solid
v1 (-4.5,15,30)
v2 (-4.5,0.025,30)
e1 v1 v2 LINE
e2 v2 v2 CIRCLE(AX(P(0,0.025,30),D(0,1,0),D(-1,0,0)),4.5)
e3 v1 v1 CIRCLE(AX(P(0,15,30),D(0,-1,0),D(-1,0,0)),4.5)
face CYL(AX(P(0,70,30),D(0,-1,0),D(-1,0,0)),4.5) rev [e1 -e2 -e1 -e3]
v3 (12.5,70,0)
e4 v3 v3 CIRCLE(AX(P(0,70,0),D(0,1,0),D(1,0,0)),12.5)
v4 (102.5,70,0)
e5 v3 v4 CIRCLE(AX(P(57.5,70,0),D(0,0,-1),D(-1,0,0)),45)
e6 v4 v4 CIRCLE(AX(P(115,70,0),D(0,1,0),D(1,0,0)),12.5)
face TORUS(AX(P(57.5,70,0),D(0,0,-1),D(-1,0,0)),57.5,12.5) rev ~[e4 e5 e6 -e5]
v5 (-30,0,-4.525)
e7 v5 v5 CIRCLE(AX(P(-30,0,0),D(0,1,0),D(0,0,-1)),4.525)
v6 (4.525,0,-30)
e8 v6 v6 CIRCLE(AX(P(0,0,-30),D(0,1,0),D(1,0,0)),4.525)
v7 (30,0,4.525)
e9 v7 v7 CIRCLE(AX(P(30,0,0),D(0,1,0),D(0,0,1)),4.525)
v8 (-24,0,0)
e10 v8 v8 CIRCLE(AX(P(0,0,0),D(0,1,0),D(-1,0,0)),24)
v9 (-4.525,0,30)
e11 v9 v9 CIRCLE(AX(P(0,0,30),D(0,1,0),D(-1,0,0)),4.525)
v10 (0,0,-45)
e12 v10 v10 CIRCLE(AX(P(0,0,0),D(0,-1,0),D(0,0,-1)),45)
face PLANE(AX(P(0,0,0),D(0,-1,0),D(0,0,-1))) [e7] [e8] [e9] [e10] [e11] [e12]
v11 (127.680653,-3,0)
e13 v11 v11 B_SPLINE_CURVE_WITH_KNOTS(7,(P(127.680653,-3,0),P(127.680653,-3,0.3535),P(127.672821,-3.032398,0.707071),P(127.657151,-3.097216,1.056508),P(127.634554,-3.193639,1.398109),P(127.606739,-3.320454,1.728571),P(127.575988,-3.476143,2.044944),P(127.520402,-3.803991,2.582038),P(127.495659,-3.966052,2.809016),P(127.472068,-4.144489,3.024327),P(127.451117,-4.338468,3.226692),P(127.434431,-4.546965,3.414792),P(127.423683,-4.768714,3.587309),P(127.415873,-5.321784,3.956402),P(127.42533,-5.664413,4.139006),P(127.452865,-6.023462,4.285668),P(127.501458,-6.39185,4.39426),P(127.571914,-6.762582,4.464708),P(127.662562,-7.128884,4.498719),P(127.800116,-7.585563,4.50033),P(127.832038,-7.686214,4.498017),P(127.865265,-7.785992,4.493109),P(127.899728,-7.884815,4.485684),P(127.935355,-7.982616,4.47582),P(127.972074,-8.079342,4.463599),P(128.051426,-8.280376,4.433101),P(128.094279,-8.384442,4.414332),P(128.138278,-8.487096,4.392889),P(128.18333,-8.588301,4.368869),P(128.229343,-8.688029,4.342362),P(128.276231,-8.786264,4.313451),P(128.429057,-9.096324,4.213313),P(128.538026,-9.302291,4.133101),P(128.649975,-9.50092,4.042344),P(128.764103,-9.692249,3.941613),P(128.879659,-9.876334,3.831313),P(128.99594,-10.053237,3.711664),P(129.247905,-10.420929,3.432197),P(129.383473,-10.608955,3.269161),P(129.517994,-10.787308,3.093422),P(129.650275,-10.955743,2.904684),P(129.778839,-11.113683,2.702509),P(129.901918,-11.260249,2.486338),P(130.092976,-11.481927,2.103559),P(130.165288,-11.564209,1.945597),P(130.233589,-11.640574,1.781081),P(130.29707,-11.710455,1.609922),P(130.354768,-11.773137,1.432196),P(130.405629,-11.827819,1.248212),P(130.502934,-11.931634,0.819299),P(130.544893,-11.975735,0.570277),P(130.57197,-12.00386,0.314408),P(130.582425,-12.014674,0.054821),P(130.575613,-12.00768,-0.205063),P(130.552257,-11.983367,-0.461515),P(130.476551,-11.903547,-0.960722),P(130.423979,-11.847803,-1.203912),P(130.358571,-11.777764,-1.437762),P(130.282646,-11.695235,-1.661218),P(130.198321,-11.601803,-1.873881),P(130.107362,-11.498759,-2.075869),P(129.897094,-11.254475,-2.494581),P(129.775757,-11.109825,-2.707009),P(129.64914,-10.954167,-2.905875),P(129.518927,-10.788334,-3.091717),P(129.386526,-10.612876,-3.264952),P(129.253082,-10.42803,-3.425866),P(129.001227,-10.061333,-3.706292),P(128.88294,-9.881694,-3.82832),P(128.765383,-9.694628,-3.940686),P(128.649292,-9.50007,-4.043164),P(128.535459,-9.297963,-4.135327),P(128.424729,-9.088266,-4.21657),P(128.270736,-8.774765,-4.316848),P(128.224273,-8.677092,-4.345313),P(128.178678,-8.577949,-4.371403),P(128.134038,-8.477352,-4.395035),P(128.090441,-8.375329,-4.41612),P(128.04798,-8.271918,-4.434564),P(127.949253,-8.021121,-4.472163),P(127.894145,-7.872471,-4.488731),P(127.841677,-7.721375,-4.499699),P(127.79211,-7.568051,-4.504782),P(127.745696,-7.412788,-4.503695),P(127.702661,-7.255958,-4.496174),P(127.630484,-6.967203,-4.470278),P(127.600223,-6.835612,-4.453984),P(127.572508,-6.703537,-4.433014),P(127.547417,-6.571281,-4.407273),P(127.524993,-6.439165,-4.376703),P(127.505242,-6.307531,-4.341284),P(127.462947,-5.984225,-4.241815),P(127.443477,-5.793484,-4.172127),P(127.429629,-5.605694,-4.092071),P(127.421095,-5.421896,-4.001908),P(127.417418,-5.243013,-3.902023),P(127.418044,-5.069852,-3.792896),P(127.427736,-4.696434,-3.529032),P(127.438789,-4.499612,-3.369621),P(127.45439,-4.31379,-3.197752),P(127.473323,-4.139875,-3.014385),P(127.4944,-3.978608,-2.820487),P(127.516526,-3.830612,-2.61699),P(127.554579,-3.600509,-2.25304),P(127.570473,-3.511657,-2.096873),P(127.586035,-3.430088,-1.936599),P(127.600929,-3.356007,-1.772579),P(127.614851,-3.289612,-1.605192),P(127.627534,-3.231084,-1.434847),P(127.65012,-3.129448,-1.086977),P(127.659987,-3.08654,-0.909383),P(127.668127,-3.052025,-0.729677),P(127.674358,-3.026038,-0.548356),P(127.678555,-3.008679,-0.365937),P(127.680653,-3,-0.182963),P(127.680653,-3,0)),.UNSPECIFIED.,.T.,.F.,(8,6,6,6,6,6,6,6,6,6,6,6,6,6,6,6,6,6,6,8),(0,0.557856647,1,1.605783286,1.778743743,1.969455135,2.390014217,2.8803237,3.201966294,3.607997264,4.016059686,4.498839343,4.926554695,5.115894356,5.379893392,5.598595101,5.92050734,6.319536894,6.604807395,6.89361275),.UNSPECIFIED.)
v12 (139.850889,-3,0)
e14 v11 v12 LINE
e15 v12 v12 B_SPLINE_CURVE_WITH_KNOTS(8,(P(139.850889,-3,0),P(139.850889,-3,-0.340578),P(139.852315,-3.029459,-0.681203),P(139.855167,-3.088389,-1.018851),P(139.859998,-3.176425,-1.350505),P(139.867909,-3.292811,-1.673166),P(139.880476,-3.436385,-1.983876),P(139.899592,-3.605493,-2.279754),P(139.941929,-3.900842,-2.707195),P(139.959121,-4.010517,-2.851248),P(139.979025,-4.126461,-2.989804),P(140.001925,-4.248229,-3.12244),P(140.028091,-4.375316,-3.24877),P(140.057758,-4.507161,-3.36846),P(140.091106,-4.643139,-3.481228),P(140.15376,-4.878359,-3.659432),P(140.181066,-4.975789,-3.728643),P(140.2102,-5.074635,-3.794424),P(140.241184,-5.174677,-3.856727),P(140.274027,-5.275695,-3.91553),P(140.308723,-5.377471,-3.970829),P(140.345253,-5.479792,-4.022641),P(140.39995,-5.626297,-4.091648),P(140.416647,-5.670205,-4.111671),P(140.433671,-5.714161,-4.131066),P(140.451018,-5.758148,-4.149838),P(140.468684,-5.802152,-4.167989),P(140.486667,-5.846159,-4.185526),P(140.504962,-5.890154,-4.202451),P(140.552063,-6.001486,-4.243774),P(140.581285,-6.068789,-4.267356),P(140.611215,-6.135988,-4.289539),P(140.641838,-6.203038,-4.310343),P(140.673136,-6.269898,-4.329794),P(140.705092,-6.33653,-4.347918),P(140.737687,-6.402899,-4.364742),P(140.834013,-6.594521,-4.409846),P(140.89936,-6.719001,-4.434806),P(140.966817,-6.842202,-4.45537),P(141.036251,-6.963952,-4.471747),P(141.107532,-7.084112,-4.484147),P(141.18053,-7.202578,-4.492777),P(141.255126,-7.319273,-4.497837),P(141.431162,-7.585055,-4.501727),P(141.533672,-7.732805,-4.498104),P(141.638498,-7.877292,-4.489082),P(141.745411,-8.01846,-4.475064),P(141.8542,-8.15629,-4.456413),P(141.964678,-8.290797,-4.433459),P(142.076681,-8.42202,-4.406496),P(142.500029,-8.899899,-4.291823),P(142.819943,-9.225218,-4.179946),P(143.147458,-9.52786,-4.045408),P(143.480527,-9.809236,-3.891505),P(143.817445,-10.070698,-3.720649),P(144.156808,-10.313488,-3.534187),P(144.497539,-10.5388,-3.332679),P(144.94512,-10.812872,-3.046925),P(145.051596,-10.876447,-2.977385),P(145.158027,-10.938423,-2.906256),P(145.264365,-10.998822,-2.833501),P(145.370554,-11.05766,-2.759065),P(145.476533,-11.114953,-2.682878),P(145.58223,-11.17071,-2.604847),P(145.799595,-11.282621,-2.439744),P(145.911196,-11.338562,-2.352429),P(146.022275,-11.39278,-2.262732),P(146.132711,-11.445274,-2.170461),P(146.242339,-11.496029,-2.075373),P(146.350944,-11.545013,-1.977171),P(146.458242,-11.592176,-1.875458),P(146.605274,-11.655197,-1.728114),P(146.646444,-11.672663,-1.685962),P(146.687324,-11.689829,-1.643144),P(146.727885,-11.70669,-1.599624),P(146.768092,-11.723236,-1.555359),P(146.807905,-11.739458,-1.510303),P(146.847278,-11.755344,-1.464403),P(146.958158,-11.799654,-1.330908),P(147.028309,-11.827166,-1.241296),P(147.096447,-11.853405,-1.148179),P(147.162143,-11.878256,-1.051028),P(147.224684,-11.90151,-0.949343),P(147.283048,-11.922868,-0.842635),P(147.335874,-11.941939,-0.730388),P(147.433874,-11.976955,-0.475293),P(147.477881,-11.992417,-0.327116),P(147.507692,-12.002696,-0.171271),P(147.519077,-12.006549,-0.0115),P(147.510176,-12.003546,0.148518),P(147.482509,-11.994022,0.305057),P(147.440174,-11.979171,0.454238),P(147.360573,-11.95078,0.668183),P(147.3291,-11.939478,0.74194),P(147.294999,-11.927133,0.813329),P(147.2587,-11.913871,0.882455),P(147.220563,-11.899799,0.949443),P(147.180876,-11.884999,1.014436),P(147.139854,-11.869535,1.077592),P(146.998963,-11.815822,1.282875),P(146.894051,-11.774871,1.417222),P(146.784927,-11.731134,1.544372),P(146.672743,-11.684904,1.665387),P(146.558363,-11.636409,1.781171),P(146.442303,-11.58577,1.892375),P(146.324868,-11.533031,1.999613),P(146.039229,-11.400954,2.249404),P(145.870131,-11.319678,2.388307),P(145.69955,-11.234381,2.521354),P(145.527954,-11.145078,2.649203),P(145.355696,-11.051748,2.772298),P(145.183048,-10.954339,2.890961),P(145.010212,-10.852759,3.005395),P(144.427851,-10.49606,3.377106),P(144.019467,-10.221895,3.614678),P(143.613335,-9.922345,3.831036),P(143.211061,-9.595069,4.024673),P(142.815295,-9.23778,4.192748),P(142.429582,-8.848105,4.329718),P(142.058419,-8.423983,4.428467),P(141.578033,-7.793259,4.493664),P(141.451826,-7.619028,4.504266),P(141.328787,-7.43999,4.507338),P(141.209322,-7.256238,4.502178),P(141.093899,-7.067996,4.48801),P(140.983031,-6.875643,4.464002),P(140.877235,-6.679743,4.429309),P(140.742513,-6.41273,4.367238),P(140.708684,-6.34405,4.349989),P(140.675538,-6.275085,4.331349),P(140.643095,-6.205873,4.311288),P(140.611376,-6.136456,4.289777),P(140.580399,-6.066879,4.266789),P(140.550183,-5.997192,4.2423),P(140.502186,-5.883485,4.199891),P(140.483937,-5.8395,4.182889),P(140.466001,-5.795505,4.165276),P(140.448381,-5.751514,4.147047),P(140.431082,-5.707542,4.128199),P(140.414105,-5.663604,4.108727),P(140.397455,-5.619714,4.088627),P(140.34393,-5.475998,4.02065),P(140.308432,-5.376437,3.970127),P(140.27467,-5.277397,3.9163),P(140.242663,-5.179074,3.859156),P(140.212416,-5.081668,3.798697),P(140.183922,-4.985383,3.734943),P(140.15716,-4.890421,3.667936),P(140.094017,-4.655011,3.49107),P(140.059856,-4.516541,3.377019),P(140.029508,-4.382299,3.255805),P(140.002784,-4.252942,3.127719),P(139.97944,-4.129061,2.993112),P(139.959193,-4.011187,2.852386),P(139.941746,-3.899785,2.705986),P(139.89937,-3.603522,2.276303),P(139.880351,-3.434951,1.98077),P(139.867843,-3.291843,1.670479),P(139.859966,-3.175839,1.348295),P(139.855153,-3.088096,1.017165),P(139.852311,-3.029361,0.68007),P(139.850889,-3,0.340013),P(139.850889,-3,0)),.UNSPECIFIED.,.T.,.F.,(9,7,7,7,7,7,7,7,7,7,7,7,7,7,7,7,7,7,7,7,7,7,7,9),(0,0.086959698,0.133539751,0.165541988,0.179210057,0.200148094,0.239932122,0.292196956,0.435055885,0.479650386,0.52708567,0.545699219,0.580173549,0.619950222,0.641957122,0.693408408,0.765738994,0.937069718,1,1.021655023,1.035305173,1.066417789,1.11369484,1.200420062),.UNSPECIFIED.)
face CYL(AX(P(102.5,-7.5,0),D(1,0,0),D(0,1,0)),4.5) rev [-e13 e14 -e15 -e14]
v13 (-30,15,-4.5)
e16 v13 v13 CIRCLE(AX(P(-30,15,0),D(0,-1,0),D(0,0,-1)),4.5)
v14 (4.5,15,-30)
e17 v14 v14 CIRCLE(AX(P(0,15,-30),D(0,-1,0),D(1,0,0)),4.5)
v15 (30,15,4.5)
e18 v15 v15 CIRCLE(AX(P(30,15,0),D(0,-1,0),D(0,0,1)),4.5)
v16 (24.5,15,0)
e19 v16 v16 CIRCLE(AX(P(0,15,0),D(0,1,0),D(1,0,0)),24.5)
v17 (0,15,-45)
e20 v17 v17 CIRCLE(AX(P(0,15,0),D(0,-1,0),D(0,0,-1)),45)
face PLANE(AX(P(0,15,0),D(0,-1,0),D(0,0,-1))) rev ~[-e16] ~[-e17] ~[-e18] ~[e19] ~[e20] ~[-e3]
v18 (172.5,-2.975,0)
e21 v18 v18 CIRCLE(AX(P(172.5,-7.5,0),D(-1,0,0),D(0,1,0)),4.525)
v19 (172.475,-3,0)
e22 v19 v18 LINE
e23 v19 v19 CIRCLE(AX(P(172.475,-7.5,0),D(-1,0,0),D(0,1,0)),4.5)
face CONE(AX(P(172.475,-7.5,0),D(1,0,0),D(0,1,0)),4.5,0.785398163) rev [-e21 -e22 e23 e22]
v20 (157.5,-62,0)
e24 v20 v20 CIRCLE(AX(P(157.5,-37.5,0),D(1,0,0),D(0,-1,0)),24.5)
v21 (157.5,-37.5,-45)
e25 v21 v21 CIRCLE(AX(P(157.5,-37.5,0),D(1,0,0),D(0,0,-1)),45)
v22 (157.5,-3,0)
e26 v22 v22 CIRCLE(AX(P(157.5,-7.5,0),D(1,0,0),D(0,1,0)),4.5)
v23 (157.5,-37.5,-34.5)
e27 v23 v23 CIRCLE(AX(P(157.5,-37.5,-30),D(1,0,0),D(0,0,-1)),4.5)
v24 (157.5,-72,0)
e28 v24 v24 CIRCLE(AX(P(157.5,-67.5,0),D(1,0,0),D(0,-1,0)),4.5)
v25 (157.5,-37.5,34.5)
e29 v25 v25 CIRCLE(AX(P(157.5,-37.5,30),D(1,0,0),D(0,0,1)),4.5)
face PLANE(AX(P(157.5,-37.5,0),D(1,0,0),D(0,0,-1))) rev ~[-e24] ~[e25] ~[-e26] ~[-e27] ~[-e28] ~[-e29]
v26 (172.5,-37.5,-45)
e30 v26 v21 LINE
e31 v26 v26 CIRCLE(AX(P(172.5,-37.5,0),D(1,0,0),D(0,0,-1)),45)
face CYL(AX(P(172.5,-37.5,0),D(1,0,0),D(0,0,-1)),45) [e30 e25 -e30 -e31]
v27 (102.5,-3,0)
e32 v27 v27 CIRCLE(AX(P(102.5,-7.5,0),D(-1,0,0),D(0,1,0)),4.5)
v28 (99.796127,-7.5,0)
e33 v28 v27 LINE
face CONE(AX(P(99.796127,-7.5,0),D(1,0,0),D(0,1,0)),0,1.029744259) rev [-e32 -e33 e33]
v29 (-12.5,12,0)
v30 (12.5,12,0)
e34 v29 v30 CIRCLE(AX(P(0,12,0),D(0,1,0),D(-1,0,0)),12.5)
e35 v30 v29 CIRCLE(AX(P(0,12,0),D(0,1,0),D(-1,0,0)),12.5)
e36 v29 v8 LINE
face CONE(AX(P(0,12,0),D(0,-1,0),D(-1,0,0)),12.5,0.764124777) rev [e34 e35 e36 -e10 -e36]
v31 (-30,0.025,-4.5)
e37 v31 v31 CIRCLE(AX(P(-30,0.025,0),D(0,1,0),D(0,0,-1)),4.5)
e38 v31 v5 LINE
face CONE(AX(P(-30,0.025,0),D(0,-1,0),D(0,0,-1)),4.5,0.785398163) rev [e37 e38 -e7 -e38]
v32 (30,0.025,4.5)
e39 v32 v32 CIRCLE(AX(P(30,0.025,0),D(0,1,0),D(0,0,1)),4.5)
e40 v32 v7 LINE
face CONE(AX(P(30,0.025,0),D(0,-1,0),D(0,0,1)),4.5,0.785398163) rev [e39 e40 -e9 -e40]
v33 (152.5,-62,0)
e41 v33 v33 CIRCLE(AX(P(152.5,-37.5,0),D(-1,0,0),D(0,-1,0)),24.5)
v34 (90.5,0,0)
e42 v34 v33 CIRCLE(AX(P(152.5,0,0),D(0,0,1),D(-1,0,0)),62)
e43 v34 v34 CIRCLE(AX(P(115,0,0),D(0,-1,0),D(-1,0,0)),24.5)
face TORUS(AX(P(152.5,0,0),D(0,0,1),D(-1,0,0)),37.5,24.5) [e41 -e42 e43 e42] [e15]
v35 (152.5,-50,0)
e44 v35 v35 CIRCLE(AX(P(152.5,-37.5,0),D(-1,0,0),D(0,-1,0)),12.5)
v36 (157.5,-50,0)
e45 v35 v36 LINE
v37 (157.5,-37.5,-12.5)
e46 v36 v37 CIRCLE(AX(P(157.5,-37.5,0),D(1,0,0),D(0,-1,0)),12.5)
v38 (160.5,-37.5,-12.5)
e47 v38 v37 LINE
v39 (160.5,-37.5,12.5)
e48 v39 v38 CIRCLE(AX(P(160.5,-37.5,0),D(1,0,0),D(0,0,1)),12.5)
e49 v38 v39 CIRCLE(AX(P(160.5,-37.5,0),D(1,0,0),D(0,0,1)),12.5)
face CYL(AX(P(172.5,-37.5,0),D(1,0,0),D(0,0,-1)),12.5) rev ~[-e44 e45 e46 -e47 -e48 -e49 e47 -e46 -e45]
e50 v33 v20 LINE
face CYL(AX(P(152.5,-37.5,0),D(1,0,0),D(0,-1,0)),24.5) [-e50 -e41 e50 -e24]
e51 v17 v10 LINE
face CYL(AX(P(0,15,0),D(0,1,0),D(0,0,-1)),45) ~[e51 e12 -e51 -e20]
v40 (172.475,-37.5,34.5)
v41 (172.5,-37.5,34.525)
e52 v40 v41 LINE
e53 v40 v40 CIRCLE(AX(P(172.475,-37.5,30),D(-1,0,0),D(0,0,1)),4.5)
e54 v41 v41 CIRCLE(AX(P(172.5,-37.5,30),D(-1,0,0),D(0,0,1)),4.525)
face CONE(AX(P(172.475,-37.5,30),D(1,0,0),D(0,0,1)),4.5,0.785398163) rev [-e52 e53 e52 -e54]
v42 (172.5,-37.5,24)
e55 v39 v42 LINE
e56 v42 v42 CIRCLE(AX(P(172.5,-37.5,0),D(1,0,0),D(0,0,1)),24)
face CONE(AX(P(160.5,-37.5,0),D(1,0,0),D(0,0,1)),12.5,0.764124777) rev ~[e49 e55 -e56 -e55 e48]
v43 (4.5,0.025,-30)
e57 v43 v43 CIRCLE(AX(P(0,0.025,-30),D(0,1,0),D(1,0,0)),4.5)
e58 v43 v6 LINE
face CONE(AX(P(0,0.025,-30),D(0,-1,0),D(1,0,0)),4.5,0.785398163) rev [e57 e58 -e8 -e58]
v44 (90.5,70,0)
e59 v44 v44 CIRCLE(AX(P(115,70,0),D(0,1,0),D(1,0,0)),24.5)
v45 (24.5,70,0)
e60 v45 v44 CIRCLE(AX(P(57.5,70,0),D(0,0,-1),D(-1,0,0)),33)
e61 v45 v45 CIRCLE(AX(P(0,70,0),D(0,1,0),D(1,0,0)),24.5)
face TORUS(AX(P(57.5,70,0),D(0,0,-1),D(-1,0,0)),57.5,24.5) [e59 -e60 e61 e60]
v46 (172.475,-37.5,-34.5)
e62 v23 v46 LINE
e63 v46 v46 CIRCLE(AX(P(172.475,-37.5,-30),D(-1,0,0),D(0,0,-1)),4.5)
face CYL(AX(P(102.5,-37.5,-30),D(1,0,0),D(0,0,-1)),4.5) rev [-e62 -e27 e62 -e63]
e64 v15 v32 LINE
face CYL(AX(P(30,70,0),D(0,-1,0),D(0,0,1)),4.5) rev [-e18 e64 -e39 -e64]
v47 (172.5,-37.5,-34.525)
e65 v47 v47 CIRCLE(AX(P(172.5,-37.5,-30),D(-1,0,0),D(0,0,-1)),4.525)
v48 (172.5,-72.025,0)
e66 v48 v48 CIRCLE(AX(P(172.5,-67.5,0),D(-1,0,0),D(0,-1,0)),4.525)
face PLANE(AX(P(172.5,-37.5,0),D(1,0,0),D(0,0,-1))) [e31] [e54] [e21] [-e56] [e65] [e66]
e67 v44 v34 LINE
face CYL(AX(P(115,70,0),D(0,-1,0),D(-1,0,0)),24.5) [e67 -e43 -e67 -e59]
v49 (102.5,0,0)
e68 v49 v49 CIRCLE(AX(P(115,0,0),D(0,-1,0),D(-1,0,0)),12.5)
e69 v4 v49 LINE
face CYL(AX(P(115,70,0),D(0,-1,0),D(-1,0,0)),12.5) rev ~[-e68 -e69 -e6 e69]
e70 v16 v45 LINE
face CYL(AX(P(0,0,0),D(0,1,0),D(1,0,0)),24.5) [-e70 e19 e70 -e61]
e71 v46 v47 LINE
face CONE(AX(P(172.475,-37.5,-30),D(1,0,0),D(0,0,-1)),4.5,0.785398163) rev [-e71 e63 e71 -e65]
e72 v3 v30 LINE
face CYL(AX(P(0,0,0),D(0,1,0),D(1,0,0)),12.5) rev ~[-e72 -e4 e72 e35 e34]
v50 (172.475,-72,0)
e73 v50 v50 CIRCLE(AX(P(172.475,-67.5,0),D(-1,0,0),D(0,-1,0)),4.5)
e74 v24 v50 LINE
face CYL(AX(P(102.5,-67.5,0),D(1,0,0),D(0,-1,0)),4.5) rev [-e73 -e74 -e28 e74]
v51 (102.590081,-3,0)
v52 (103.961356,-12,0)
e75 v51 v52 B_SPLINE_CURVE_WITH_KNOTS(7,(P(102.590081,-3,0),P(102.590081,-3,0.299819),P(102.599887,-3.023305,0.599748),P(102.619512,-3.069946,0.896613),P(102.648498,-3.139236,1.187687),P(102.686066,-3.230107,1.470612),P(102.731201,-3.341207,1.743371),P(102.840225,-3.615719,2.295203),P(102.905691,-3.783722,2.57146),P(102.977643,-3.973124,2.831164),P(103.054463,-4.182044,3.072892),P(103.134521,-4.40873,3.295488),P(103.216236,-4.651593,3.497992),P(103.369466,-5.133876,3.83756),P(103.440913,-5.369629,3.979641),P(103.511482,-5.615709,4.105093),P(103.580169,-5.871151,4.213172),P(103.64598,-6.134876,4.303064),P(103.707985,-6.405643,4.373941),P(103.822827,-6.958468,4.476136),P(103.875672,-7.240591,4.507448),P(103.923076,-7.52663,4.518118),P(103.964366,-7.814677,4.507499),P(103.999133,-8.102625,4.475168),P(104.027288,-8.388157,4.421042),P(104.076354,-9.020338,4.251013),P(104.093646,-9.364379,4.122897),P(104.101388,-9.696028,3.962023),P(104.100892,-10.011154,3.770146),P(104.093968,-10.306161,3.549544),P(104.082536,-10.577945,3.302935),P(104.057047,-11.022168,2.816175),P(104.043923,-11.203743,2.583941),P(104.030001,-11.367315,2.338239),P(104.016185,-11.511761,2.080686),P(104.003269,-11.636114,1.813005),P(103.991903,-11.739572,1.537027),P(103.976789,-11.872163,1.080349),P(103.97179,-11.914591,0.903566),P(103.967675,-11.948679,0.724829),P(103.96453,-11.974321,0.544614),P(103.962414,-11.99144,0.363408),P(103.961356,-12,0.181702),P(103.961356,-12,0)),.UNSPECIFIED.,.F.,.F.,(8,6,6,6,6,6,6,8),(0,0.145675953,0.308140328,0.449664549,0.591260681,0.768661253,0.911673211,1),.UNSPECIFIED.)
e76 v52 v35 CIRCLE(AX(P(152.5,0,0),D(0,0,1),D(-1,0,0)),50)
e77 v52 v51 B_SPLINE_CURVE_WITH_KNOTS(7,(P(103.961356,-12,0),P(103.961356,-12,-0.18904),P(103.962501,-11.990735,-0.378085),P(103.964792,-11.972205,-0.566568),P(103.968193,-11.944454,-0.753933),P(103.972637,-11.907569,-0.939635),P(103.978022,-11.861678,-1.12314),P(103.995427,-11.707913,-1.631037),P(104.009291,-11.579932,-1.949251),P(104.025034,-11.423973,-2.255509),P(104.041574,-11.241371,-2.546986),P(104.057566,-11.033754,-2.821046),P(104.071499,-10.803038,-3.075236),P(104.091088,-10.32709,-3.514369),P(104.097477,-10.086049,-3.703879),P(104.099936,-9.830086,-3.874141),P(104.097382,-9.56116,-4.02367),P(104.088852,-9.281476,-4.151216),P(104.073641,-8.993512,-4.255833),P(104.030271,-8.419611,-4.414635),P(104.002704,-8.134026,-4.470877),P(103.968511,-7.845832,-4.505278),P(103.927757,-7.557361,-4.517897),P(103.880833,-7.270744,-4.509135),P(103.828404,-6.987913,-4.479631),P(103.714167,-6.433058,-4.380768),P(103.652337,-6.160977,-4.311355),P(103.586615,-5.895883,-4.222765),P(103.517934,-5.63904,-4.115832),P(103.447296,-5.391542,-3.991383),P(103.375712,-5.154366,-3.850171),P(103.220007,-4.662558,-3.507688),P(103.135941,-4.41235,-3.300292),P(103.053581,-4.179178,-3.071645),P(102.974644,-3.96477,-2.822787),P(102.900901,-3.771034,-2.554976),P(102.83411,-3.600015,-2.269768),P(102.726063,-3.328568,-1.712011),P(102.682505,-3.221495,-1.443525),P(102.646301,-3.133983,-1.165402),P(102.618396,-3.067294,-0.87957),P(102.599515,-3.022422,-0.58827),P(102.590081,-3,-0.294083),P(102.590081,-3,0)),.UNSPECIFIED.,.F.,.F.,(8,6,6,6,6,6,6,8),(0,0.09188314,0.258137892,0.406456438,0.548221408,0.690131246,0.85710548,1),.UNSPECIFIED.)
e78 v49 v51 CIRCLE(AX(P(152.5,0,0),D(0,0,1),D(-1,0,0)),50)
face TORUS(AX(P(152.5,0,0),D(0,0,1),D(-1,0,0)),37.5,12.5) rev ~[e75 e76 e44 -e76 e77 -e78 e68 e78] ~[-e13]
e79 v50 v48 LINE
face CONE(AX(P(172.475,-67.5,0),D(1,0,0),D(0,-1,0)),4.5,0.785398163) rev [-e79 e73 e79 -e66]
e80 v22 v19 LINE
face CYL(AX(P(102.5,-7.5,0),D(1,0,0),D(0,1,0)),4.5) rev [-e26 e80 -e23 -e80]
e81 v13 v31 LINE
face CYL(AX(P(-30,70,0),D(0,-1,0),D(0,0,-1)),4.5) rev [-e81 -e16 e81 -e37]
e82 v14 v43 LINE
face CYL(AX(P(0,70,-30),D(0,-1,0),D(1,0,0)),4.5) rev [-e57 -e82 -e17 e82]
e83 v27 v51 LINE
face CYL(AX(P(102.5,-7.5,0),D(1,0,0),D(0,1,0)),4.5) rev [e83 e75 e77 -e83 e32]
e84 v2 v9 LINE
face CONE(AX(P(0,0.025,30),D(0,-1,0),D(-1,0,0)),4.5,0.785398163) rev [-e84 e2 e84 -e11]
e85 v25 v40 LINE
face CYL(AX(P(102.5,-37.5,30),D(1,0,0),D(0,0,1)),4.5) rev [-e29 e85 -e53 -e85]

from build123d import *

# Parameters (mm, degrees)
SKETCH2_R           = 24.5
SKETCH2_R_2         = 12.5
BOSS_EXTRUDE1_START = 15
SKETCH3_R           = 45
SKETCH3_R_2         = 12.5
BOSS_EXTRUDE1_DEPTH = 15
BOSS_EXTRUDE2_START = -15
SKETCH4_R           = 45
SKETCH4_R_2         = 12.5
BOSS_EXTRUDE2_DEPTH = 15
CIRPATTERN1_COUNT   = 4
CIRPATTERN2_COUNT   = 4


with BuildPart() as part:
    # Sweep1: sweep along a path in Sketch1
    with BuildLine(Plane.XY) as sweep1_path:
        Line((0, 0), (0, 70))
        ThreePointArc((0, 70), (57.5, 127.5), (115, 70))
        Line((115, 70), (115, 0))
        ThreePointArc((115, 0), (125.983495706, -26.516504294), (152.5, -37.5))
        Line((152.5, -37.5), (157.5, -37.5))
    # Sketch2 → Sweep1 (sweep)
    with BuildSketch(Plane(origin=(0, 0, 0), x_dir=(1, 0, 0), z_dir=(0, 1, 0))):
        Circle(SKETCH2_R)
        Circle(SKETCH2_R_2, mode=Mode.SUBTRACT)
    sweep(path=sweep1_path.line)

    # Sketch3 → Boss-Extrude1 (add)
    with BuildSketch(Plane(origin=(157.5, 0, 0), x_dir=(0, 0, -1), z_dir=(1, 0, 0)).offset(BOSS_EXTRUDE1_START)):
        with Locations((0, -37.5)):
            Circle(SKETCH3_R)
        with Locations((0, -37.5)):
            Circle(SKETCH3_R_2, mode=Mode.SUBTRACT)
    extrude(amount=-BOSS_EXTRUDE1_DEPTH)

    # Sketch4 → Boss-Extrude2 (add)
    with BuildSketch(Plane(origin=(0, 0, 0), x_dir=(-1, 0, 0), z_dir=(0, -1, 0)).offset(BOSS_EXTRUDE2_START)):
        with Locations(Location((0, 0, 0), (0, 0, 90))):
            Circle(SKETCH4_R)
        with Locations(Location((0, 0, 0), (0, 0, 270))):
            Circle(SKETCH4_R_2, mode=Mode.SUBTRACT)
    extrude(amount=BOSS_EXTRUDE2_DEPTH)

    # Sketch10 → Tap Drill for M10x1.0 Tap1 (revolve, cut)
    with BuildSketch(Plane(origin=(-30, 0, 0), x_dir=(0, 0, -1), z_dir=(1, 0, 0))):
        Polygon((0, 0), (0, 72.703872786), (4.5, 70), (4.5, 0.025), (4.525, 0), align=None)
    tap_drill_for_m10x1_0_tap1 = revolve(axis=Axis((-30, -6.35, 0), (0, 1, 0)), mode=Mode.SUBTRACT)

    # CirPattern1: Tap Drill for M10x1.0 Tap1 ×4 about axis
    cirpattern1_axis = Axis((0, 0, 0), (0, 1, 0))
    for i in range(1, CIRPATTERN1_COUNT):
        add(tap_drill_for_m10x1_0_tap1.rotate(cirpattern1_axis, i * 360 / CIRPATTERN1_COUNT), mode=Mode.SUBTRACT)

    # Sketch12 → Tap Drill for M10x1.0 Tap2 (revolve, cut)
    with BuildSketch(Plane(origin=(172.5, -37.5, -30), x_dir=(0, 0, -1), z_dir=(0, 1, 0))):
        Polygon((0, 0), (0, 72.703872786), (4.5, 70), (4.5, 0.025), (4.525, 0), align=None)
    tap_drill_for_m10x1_0_tap2 = revolve(axis=Axis((178.85, -37.5, -30), (-1, 0, 0)), mode=Mode.SUBTRACT)

    # CirPattern2: Tap Drill for M10x1.0 Tap2 ×4 about axis
    cirpattern2_axis = Axis((0, -37.5, 0), (1, 0, 0))
    for i in range(1, CIRPATTERN2_COUNT):
        add(tap_drill_for_m10x1_0_tap2.rotate(cirpattern2_axis, i * 360 / CIRPATTERN2_COUNT), mode=Mode.SUBTRACT)

    # Sketch15 → Cut-Revolve1 (revolve, cut)
    with BuildSketch(Plane.XY, mode=Mode.PRIVATE) as cut_revolve1_sk:
        Polygon((160.5, -37.5), (160.5, -25), (172.5, -13.5), (172.5, -37.5), align=None)
    revolve(cut_revolve1_sk.sketch.rotate(Axis((157.5, -37.5, 0), (1, 0, 0)), 90), axis=Axis((157.5, -37.5, 0), (1, 0, 0)), mode=Mode.SUBTRACT)

    # Sketch16 → Cut-Revolve2 (revolve, cut)
    with BuildSketch(Plane(origin=(0, 0, 0), x_dir=(0, 0, -1), z_dir=(1, 0, 0)), mode=Mode.PRIVATE) as cut_revolve2_sk:
        Polygon((0, 0), (0, 12), (-12.5, 12), (-24, 0), align=None)
    revolve(cut_revolve2_sk.sketch.rotate(Axis((0, 0, 0), (0, 1, 0)), 270), axis=Axis((0, 0, 0), (0, 1, 0)), mode=Mode.SUBTRACT)


solid = part.part
